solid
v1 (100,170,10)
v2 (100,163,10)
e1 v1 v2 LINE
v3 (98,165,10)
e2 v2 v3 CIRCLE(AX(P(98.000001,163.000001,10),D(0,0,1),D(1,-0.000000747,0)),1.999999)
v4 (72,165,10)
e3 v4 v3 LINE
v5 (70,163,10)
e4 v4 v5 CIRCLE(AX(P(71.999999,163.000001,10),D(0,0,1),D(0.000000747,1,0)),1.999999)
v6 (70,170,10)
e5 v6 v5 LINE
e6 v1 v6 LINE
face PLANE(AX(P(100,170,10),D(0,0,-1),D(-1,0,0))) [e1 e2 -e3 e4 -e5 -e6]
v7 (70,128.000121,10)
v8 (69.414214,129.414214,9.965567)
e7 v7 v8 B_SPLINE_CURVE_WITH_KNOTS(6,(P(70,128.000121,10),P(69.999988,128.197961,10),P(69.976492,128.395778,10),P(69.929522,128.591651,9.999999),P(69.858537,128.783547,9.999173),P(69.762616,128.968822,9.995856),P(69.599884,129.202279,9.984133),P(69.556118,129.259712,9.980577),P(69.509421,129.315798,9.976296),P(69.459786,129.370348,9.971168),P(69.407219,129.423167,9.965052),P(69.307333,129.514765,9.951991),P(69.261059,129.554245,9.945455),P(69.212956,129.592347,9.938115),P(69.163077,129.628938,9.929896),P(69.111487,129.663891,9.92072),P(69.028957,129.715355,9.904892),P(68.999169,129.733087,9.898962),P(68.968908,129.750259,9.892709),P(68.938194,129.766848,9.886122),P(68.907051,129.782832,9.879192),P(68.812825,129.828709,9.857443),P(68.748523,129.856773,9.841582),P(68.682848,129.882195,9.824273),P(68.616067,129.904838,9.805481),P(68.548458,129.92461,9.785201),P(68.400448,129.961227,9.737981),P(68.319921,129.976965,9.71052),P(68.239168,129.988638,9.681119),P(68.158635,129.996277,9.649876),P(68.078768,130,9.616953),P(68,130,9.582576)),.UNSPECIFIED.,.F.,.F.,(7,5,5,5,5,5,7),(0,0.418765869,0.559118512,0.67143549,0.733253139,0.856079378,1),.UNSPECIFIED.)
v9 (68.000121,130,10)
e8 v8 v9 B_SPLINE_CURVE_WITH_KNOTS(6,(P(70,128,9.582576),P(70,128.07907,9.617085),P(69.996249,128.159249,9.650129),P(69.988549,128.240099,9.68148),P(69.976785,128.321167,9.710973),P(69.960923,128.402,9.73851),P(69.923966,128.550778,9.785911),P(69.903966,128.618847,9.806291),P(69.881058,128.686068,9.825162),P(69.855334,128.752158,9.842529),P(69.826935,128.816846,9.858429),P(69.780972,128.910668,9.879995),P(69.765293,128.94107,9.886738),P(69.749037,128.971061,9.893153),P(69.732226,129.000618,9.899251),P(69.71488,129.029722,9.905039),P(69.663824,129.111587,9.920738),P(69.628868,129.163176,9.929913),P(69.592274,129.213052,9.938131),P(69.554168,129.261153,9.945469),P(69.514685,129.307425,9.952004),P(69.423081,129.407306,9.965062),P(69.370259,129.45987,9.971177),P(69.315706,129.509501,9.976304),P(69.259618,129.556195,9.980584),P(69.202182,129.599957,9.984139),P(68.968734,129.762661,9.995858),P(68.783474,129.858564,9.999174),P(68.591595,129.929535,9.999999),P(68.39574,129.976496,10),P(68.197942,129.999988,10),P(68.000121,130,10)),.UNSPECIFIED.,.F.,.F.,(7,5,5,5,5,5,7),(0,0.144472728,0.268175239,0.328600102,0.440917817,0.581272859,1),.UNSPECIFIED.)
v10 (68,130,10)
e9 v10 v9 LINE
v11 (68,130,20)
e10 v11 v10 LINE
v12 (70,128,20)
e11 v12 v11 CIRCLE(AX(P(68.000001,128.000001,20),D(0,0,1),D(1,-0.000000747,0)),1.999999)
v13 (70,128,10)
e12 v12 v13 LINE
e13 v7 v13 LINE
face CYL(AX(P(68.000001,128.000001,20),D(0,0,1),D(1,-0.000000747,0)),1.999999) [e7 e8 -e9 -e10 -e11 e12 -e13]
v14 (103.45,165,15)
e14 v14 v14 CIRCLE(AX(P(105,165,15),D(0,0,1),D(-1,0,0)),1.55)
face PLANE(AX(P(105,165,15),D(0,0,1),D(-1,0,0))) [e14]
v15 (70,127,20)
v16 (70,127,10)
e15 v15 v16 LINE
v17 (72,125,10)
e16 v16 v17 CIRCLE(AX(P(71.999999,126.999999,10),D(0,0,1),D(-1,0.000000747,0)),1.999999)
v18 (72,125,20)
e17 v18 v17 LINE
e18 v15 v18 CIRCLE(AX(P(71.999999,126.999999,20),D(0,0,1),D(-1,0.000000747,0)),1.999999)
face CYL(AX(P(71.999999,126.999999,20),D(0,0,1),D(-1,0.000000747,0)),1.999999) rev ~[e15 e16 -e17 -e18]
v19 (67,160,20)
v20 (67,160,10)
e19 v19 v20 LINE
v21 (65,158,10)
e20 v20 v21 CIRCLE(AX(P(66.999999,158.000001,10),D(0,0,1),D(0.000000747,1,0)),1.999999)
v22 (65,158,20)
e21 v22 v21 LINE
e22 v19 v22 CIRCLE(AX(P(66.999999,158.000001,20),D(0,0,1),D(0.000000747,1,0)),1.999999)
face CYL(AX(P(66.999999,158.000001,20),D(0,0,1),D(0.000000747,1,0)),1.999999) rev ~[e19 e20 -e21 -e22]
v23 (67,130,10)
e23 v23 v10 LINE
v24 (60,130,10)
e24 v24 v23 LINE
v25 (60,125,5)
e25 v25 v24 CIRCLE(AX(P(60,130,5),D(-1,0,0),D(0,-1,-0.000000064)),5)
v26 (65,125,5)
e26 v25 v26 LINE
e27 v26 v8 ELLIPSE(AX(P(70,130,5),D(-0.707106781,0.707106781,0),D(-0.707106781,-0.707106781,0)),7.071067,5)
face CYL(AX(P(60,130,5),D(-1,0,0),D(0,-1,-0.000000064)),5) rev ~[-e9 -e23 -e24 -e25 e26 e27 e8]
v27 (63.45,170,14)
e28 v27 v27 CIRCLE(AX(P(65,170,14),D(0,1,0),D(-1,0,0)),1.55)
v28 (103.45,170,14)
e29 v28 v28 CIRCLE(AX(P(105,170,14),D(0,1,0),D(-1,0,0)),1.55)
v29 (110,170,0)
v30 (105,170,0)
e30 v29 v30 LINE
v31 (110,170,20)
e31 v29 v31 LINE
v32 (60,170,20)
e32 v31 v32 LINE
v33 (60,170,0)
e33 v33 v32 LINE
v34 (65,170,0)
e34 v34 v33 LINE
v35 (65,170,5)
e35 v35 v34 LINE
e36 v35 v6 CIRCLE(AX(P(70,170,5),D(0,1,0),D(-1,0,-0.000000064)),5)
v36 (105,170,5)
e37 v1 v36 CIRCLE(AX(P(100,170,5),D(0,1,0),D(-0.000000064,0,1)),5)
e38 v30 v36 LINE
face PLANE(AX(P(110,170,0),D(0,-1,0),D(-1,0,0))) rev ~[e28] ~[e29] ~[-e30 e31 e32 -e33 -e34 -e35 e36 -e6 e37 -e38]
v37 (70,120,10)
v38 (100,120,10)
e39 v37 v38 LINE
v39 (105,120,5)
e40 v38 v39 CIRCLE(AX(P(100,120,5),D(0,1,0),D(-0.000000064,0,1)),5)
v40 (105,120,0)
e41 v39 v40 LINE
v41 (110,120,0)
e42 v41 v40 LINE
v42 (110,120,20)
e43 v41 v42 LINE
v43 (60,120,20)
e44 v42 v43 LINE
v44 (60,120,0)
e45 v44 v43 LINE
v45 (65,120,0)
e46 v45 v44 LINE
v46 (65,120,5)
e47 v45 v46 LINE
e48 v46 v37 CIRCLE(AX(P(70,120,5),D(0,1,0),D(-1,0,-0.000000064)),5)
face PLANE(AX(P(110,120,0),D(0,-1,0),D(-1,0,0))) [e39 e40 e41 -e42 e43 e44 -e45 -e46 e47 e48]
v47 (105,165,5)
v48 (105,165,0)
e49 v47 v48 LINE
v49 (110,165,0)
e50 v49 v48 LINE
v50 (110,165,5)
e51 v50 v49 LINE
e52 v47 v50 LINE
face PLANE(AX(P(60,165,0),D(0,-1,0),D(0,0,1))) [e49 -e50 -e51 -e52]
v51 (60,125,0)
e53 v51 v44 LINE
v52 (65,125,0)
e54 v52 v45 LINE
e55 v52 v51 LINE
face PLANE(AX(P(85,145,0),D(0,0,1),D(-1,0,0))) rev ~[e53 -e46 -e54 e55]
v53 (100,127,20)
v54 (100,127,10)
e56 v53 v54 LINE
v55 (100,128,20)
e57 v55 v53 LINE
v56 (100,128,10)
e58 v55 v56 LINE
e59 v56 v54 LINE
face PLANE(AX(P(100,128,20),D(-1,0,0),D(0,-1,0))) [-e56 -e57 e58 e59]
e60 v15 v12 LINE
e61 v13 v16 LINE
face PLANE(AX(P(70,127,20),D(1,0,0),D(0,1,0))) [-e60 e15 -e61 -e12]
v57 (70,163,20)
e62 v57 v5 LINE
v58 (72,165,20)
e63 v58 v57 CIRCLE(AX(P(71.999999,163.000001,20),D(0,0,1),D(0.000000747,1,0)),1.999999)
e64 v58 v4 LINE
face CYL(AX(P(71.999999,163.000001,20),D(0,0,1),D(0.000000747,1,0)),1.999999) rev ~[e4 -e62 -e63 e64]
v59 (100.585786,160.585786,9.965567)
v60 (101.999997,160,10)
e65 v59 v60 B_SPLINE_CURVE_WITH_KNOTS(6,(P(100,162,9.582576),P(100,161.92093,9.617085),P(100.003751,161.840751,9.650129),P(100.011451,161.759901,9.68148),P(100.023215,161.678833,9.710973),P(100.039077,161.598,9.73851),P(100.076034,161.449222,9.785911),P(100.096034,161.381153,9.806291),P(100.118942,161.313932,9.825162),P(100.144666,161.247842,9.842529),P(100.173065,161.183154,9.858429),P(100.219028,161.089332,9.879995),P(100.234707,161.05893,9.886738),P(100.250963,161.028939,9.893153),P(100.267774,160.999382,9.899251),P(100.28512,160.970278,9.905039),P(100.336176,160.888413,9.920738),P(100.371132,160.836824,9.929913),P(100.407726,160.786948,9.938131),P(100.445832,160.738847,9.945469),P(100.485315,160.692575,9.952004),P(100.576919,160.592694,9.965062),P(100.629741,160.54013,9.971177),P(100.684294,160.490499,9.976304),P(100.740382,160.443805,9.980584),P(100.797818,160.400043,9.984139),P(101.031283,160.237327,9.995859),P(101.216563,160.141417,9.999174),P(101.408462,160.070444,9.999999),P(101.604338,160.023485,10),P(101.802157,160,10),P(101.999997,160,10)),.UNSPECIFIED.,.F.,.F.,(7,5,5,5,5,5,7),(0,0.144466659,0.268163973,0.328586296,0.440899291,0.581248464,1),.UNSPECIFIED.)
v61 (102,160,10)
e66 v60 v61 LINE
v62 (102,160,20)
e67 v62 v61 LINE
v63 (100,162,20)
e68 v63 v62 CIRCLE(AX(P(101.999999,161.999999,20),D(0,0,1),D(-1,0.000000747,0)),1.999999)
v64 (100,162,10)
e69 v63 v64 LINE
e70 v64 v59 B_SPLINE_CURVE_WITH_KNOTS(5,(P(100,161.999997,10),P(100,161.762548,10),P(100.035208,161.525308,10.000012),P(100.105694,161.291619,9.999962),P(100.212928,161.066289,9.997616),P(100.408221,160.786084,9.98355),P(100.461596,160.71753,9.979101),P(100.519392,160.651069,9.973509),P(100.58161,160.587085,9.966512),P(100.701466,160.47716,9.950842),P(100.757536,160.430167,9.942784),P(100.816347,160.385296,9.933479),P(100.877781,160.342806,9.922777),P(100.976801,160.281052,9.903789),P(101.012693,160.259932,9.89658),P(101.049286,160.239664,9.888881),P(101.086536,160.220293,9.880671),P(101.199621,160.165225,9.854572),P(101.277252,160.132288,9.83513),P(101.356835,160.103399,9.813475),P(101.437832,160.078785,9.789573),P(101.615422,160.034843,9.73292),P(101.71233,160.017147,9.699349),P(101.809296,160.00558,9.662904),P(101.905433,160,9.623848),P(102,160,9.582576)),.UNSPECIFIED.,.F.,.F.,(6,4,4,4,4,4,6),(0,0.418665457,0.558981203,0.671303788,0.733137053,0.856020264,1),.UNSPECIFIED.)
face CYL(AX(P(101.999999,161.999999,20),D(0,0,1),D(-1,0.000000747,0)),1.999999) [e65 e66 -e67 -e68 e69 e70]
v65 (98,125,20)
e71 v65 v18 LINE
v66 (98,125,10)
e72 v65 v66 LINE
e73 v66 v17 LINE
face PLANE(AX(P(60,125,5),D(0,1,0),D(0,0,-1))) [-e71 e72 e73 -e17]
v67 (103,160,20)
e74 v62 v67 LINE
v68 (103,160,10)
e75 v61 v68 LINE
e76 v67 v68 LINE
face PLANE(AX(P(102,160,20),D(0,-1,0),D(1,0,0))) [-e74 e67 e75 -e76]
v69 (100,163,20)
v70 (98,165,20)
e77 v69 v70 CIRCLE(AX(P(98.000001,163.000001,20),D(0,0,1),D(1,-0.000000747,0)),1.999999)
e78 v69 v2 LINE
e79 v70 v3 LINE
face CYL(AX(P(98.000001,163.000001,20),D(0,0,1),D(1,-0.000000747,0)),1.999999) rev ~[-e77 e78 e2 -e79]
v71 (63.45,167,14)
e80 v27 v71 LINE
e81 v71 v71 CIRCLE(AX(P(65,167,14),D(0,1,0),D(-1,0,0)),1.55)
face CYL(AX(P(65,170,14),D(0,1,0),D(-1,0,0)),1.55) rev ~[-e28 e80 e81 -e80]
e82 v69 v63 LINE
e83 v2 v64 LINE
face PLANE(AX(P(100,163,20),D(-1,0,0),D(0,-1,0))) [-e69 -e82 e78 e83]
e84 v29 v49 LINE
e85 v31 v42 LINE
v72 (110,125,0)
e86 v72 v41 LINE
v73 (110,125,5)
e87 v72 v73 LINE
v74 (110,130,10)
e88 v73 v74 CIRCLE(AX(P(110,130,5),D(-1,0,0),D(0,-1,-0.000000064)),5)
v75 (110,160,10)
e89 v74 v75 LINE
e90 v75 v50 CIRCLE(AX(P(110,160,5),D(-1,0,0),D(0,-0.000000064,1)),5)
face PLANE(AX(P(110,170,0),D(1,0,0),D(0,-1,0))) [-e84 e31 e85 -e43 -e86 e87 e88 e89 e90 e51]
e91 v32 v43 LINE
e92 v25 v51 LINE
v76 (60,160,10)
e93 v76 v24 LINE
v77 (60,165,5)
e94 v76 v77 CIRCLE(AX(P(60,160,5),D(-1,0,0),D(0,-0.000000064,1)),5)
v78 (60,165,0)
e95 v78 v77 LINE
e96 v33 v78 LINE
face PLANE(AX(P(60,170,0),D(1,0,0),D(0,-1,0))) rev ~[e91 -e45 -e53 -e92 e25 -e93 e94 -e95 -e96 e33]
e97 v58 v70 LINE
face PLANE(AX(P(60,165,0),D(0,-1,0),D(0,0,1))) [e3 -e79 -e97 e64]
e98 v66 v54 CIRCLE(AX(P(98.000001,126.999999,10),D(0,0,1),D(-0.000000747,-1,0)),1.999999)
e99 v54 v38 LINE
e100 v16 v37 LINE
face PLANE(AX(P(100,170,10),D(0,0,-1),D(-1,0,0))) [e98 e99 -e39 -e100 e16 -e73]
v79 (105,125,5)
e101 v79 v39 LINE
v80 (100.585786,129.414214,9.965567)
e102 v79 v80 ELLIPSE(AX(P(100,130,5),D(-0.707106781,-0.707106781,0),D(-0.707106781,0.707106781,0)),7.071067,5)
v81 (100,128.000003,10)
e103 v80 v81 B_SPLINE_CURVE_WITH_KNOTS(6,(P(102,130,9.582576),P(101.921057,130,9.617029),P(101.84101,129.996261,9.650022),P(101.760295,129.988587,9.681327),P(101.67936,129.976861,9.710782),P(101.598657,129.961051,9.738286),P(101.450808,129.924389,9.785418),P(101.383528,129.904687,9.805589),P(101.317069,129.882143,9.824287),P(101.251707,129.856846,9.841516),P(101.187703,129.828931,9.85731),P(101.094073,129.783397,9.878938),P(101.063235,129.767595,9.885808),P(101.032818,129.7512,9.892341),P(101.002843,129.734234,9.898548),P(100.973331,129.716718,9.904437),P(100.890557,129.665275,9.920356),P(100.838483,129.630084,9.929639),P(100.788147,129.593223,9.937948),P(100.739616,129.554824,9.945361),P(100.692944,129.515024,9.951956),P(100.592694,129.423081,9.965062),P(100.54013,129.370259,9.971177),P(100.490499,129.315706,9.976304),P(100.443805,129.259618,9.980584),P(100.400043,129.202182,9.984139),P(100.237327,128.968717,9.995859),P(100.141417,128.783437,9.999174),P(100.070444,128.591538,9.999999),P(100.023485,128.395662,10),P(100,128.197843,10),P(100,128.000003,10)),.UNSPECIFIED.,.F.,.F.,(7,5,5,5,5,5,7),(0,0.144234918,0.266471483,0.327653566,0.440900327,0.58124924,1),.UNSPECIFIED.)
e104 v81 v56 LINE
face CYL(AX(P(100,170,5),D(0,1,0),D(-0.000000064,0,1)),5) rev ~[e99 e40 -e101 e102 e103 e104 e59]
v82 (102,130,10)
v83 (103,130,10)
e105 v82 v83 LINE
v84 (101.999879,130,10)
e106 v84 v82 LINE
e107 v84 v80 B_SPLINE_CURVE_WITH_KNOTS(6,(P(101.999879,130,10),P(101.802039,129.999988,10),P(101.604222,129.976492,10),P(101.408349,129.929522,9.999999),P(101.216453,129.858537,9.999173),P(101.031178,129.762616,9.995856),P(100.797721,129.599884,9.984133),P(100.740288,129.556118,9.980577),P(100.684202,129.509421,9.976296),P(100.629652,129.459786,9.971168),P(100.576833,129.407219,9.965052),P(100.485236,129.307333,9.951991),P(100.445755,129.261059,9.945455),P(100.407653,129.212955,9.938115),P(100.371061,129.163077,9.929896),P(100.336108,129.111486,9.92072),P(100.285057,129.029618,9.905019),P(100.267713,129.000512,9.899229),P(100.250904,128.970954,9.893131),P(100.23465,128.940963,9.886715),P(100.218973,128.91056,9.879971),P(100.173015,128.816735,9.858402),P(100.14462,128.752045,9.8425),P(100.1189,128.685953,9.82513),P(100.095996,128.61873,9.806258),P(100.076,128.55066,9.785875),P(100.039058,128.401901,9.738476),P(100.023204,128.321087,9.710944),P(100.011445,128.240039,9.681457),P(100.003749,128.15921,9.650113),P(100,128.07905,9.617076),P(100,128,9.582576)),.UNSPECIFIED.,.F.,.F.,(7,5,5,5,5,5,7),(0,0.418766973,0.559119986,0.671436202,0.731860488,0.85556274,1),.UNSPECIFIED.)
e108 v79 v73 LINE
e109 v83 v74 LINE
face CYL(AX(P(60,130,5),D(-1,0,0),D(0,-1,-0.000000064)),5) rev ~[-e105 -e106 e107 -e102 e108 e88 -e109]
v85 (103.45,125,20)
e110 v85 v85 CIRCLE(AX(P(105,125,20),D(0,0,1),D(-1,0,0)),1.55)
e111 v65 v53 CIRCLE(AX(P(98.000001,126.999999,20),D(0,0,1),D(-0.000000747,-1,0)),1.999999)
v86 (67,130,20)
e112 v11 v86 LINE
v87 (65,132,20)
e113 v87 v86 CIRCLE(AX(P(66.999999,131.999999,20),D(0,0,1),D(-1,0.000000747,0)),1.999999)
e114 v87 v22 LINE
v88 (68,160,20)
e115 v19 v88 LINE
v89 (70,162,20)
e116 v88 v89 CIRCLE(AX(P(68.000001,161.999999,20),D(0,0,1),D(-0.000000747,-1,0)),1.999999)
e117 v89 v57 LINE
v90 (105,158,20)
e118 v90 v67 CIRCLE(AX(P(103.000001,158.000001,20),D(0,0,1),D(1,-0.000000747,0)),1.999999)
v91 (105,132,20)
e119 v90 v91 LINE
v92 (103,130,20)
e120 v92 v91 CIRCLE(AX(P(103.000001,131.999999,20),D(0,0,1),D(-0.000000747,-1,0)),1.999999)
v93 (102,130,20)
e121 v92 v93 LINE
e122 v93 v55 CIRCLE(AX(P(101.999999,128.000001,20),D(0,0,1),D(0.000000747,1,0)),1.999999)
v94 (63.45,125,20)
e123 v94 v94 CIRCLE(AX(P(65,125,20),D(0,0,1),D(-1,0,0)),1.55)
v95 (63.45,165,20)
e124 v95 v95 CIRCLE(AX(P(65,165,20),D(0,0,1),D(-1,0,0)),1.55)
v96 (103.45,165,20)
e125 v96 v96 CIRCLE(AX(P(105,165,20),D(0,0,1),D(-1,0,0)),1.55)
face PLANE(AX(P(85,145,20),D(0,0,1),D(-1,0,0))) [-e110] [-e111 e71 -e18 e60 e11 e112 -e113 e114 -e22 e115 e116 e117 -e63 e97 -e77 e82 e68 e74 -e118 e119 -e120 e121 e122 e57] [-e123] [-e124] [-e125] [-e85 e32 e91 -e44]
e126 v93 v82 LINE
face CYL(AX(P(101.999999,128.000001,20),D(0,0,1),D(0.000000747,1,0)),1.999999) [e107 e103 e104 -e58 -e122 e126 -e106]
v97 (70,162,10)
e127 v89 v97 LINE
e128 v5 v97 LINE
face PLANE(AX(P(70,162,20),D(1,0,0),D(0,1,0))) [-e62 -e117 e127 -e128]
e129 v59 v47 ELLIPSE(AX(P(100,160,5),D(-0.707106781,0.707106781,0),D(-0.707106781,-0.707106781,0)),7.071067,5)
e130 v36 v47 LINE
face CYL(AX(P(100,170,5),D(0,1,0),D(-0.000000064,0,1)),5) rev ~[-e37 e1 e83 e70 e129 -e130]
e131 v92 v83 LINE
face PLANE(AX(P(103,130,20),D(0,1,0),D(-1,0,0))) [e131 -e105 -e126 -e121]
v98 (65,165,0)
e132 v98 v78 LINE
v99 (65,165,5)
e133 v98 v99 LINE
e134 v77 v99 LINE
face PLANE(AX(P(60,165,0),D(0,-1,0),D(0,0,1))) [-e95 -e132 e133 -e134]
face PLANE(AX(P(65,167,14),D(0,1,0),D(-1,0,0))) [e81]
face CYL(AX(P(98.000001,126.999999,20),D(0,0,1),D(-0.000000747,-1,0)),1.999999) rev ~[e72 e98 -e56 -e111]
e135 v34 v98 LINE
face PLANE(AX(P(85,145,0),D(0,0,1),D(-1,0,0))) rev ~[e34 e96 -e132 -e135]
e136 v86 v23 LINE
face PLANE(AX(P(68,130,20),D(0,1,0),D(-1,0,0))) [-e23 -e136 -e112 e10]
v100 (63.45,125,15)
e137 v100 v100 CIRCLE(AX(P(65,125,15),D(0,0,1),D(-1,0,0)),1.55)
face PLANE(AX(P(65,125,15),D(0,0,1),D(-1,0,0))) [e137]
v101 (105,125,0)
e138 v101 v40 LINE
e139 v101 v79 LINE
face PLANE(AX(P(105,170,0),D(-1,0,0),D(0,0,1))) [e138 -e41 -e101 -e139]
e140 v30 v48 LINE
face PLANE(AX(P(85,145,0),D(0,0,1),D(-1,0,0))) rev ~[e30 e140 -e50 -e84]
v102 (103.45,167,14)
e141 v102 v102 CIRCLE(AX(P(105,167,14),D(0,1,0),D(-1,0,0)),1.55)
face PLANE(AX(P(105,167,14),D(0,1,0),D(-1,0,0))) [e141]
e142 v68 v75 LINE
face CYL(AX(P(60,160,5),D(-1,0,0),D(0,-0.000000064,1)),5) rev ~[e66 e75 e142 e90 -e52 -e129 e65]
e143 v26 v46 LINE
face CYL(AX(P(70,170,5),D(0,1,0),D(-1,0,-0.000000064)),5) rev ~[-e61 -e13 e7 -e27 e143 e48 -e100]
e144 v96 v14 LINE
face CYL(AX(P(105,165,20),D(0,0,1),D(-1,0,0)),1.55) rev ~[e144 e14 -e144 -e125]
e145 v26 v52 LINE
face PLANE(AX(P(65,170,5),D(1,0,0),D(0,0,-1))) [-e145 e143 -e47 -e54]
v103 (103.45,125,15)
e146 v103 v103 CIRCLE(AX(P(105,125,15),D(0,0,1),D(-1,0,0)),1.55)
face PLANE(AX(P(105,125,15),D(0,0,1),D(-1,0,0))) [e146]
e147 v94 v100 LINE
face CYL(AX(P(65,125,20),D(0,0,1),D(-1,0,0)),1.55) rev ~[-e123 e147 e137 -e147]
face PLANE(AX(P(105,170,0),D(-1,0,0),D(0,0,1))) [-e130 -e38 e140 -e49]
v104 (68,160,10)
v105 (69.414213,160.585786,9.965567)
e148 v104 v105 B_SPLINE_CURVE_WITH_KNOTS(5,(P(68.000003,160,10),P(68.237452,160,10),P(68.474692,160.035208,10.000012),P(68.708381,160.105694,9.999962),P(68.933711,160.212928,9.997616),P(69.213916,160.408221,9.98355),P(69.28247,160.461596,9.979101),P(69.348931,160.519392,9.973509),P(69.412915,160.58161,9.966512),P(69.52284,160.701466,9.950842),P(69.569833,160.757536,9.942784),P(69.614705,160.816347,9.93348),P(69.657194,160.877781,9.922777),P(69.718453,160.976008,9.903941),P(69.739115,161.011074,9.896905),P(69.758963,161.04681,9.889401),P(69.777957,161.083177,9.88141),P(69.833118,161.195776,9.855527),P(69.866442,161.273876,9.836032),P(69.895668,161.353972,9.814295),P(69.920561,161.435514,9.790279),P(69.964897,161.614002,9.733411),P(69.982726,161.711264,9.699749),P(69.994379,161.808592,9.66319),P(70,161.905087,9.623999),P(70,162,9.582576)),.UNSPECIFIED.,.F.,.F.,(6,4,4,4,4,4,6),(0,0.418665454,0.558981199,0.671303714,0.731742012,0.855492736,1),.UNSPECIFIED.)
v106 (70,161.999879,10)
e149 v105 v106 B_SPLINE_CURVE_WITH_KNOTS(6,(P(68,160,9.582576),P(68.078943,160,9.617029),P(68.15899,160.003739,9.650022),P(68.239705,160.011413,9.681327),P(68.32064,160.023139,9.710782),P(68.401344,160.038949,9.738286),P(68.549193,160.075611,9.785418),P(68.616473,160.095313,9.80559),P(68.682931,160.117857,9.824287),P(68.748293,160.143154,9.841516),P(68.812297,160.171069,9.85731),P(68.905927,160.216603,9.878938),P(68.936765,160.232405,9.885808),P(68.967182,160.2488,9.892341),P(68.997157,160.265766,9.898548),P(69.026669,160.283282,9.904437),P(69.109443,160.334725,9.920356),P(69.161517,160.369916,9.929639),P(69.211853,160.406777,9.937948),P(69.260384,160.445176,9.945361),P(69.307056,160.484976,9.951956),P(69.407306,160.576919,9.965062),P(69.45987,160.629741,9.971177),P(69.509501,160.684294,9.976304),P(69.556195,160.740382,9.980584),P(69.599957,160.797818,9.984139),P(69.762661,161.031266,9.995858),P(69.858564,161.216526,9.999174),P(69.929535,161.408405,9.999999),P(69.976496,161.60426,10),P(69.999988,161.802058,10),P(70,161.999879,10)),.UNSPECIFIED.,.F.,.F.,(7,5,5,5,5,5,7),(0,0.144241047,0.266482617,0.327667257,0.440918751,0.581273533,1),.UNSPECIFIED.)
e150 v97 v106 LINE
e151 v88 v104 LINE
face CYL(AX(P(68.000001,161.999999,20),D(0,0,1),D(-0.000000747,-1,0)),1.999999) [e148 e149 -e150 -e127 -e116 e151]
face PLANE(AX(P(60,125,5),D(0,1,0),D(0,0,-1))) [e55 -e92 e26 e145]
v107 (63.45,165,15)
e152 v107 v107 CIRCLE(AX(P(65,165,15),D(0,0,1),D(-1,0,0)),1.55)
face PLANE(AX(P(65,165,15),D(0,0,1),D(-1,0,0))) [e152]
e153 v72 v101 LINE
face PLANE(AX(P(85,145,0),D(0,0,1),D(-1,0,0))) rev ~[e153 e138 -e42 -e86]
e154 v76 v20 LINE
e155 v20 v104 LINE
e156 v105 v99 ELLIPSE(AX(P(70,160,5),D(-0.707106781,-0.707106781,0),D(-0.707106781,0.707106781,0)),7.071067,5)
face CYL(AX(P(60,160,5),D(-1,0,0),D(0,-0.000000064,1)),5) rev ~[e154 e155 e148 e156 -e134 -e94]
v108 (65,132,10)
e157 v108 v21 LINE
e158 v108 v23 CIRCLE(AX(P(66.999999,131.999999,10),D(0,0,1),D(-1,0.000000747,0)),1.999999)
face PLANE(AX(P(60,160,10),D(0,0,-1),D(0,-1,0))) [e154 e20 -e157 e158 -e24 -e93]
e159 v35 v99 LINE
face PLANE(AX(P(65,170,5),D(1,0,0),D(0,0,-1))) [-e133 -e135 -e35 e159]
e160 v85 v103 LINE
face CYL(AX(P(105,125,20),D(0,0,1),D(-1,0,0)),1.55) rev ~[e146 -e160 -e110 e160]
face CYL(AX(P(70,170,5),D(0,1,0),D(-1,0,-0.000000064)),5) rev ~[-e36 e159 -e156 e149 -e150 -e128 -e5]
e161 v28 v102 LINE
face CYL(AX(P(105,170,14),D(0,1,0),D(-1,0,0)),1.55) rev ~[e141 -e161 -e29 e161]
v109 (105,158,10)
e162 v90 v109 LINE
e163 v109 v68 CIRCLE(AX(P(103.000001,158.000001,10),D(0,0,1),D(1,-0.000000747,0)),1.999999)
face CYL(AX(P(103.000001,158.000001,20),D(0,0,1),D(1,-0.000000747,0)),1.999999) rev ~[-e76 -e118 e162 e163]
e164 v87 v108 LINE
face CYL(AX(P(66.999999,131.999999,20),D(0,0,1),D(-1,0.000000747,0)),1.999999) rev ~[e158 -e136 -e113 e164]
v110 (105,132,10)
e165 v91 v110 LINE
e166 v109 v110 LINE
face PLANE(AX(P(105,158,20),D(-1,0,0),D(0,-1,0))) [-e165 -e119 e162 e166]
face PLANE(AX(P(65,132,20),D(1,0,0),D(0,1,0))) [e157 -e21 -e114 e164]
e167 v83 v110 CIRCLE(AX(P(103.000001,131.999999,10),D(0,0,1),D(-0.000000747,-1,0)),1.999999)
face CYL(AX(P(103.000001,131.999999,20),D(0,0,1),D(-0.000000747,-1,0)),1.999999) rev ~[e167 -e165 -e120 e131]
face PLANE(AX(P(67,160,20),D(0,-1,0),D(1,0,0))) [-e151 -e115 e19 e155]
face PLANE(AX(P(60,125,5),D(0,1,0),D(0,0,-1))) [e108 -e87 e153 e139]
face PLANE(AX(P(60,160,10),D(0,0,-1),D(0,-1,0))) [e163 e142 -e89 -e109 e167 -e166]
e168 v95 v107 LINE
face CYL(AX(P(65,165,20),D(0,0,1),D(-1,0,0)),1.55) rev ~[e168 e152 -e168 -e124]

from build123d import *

# Parameters (mm, degrees)
SKETCH075_W             = 50
SKETCH075_H             = 50
PAD013_DEPTH            = 20
POCKET063_DEPTH         = 20.001
POCKET064_DEPTH         = 50.001
POCKET065_DEPTH         = 50.001
SKETCH079_R             = 1.55
POCKET066_DEPTH         = 5
SKETCH080_R             = 1.55
POCKET067_DEPTH         = 3
BODY014_PLACEMENT_ANGLE = 180


with BuildPart() as part:
    # Sketch075 → Pad013 (new body)
    with BuildSketch(Plane.XY):
        Rectangle(SKETCH075_W, SKETCH075_H)
    extrude(amount=PAD013_DEPTH)

    # Sketch076 (on Face6 of Pad013) → Pocket063 (cut, through all)
    with BuildSketch(Plane.XY.offset(20)):
        with BuildLine():
            Line((-18, 15), (-17, 15))
            ThreePointArc((-17, 15), (-15.585786, 15.585786), (-15, 17))
            Line((-15, 17), (-15, 18))
            ThreePointArc((-13, 20), (-14.414214, 19.414214), (-15, 18))
            Line((-13, 20), (13, 20))
            ThreePointArc((15, 18), (14.414214, 19.414214), (13, 20))
            Line((15, 18), (15, 17))
            ThreePointArc((15, 17), (15.585786, 15.585786), (17, 15))
            Line((17, 15), (18, 15))
            ThreePointArc((20, 13), (19.414214, 14.414214), (18, 15))
            Line((20, 13), (20, -13))
            ThreePointArc((18, -15), (19.414214, -14.414214), (20, -13))
            Line((18, -15), (17, -15))
            ThreePointArc((17, -15), (15.585786, -15.585786), (15, -17))
            Line((15, -17), (15, -18))
            ThreePointArc((13, -20), (14.414214, -19.414214), (15, -18))
            Line((13, -20), (-13, -20))
            ThreePointArc((-15, -18), (-14.414214, -19.414214), (-13, -20))
            Line((-15, -18), (-15, -17))
            ThreePointArc((-15, -17), (-15.585786, -15.585786), (-17, -15))
            Line((-17, -15), (-18, -15))
            ThreePointArc((-20, -13), (-19.414214, -14.414214), (-18, -15))
            Line((-20, -13), (-20, 13))
            ThreePointArc((-18, 15), (-19.414214, 14.414214), (-20, 13))
        make_face()
    extrude(amount=-POCKET063_DEPTH, mode=Mode.SUBTRACT)

    # Sketch077 (on Face3 of Pocket063) → Pocket064 (cut, through all)
    with BuildSketch(Plane.YZ.offset(25)):
        with BuildLine():
            Line((-15, 10), (15, 10))
            ThreePointArc((20, 5), (18.535534, 8.535534), (15, 10))
            Line((20, 5), (20, 0))
            Line((20, 0), (-20, 0))
            Line((-20, 0), (-20, 5))
            ThreePointArc((-15, 10), (-18.535534, 8.535534), (-20, 5))
        make_face()
    extrude(amount=-POCKET064_DEPTH, mode=Mode.SUBTRACT)

    # Sketch078 (on Face6 of Pocket063) → Pocket065 (cut, through all)
    with BuildSketch(Plane.XZ.offset(25)):
        with BuildLine():
            Line((-15, 10), (15, 10))
            ThreePointArc((20, 5), (18.535534, 8.535534), (15, 10))
            Line((20, 5), (20, 0))
            Line((20, 0), (-20, 0))
            Line((-20, 0), (-20, 5))
            ThreePointArc((-15, 10), (-18.535534, 8.535534), (-20, 5))
        make_face()
    extrude(amount=-POCKET065_DEPTH, mode=Mode.SUBTRACT)

    # Sketch079 → Pocket066 (cut)
    with BuildSketch(Plane.XY.offset(20)):
        with Locations((-20, 20)):
            Circle(SKETCH079_R)
        with Locations((20, 20)):
            Circle(SKETCH079_R)
        with Locations((20, -20)):
            Circle(SKETCH079_R)
        with Locations((-20, -20)):
            Circle(SKETCH079_R)
    extrude(amount=-POCKET066_DEPTH, mode=Mode.SUBTRACT)

    # Sketch080 (on Face27 of Pocket066) → Pocket067 (cut)
    with BuildSketch(Plane.XZ.offset(25)):
        with Locations((-20, 14)):
            Circle(SKETCH080_R)
        with Locations((20, 14)):
            Circle(SKETCH080_R)
    extrude(amount=-POCKET067_DEPTH, mode=Mode.SUBTRACT)


with BuildPart() as part_1:
    # Body014 placement: moved
    add(part.part.moved(Location((85, 145, 0))).rotate(Axis((85, 145, 0), (0, 0, 1)), BODY014_PLACEMENT_ANGLE))


solid = part_1.part
